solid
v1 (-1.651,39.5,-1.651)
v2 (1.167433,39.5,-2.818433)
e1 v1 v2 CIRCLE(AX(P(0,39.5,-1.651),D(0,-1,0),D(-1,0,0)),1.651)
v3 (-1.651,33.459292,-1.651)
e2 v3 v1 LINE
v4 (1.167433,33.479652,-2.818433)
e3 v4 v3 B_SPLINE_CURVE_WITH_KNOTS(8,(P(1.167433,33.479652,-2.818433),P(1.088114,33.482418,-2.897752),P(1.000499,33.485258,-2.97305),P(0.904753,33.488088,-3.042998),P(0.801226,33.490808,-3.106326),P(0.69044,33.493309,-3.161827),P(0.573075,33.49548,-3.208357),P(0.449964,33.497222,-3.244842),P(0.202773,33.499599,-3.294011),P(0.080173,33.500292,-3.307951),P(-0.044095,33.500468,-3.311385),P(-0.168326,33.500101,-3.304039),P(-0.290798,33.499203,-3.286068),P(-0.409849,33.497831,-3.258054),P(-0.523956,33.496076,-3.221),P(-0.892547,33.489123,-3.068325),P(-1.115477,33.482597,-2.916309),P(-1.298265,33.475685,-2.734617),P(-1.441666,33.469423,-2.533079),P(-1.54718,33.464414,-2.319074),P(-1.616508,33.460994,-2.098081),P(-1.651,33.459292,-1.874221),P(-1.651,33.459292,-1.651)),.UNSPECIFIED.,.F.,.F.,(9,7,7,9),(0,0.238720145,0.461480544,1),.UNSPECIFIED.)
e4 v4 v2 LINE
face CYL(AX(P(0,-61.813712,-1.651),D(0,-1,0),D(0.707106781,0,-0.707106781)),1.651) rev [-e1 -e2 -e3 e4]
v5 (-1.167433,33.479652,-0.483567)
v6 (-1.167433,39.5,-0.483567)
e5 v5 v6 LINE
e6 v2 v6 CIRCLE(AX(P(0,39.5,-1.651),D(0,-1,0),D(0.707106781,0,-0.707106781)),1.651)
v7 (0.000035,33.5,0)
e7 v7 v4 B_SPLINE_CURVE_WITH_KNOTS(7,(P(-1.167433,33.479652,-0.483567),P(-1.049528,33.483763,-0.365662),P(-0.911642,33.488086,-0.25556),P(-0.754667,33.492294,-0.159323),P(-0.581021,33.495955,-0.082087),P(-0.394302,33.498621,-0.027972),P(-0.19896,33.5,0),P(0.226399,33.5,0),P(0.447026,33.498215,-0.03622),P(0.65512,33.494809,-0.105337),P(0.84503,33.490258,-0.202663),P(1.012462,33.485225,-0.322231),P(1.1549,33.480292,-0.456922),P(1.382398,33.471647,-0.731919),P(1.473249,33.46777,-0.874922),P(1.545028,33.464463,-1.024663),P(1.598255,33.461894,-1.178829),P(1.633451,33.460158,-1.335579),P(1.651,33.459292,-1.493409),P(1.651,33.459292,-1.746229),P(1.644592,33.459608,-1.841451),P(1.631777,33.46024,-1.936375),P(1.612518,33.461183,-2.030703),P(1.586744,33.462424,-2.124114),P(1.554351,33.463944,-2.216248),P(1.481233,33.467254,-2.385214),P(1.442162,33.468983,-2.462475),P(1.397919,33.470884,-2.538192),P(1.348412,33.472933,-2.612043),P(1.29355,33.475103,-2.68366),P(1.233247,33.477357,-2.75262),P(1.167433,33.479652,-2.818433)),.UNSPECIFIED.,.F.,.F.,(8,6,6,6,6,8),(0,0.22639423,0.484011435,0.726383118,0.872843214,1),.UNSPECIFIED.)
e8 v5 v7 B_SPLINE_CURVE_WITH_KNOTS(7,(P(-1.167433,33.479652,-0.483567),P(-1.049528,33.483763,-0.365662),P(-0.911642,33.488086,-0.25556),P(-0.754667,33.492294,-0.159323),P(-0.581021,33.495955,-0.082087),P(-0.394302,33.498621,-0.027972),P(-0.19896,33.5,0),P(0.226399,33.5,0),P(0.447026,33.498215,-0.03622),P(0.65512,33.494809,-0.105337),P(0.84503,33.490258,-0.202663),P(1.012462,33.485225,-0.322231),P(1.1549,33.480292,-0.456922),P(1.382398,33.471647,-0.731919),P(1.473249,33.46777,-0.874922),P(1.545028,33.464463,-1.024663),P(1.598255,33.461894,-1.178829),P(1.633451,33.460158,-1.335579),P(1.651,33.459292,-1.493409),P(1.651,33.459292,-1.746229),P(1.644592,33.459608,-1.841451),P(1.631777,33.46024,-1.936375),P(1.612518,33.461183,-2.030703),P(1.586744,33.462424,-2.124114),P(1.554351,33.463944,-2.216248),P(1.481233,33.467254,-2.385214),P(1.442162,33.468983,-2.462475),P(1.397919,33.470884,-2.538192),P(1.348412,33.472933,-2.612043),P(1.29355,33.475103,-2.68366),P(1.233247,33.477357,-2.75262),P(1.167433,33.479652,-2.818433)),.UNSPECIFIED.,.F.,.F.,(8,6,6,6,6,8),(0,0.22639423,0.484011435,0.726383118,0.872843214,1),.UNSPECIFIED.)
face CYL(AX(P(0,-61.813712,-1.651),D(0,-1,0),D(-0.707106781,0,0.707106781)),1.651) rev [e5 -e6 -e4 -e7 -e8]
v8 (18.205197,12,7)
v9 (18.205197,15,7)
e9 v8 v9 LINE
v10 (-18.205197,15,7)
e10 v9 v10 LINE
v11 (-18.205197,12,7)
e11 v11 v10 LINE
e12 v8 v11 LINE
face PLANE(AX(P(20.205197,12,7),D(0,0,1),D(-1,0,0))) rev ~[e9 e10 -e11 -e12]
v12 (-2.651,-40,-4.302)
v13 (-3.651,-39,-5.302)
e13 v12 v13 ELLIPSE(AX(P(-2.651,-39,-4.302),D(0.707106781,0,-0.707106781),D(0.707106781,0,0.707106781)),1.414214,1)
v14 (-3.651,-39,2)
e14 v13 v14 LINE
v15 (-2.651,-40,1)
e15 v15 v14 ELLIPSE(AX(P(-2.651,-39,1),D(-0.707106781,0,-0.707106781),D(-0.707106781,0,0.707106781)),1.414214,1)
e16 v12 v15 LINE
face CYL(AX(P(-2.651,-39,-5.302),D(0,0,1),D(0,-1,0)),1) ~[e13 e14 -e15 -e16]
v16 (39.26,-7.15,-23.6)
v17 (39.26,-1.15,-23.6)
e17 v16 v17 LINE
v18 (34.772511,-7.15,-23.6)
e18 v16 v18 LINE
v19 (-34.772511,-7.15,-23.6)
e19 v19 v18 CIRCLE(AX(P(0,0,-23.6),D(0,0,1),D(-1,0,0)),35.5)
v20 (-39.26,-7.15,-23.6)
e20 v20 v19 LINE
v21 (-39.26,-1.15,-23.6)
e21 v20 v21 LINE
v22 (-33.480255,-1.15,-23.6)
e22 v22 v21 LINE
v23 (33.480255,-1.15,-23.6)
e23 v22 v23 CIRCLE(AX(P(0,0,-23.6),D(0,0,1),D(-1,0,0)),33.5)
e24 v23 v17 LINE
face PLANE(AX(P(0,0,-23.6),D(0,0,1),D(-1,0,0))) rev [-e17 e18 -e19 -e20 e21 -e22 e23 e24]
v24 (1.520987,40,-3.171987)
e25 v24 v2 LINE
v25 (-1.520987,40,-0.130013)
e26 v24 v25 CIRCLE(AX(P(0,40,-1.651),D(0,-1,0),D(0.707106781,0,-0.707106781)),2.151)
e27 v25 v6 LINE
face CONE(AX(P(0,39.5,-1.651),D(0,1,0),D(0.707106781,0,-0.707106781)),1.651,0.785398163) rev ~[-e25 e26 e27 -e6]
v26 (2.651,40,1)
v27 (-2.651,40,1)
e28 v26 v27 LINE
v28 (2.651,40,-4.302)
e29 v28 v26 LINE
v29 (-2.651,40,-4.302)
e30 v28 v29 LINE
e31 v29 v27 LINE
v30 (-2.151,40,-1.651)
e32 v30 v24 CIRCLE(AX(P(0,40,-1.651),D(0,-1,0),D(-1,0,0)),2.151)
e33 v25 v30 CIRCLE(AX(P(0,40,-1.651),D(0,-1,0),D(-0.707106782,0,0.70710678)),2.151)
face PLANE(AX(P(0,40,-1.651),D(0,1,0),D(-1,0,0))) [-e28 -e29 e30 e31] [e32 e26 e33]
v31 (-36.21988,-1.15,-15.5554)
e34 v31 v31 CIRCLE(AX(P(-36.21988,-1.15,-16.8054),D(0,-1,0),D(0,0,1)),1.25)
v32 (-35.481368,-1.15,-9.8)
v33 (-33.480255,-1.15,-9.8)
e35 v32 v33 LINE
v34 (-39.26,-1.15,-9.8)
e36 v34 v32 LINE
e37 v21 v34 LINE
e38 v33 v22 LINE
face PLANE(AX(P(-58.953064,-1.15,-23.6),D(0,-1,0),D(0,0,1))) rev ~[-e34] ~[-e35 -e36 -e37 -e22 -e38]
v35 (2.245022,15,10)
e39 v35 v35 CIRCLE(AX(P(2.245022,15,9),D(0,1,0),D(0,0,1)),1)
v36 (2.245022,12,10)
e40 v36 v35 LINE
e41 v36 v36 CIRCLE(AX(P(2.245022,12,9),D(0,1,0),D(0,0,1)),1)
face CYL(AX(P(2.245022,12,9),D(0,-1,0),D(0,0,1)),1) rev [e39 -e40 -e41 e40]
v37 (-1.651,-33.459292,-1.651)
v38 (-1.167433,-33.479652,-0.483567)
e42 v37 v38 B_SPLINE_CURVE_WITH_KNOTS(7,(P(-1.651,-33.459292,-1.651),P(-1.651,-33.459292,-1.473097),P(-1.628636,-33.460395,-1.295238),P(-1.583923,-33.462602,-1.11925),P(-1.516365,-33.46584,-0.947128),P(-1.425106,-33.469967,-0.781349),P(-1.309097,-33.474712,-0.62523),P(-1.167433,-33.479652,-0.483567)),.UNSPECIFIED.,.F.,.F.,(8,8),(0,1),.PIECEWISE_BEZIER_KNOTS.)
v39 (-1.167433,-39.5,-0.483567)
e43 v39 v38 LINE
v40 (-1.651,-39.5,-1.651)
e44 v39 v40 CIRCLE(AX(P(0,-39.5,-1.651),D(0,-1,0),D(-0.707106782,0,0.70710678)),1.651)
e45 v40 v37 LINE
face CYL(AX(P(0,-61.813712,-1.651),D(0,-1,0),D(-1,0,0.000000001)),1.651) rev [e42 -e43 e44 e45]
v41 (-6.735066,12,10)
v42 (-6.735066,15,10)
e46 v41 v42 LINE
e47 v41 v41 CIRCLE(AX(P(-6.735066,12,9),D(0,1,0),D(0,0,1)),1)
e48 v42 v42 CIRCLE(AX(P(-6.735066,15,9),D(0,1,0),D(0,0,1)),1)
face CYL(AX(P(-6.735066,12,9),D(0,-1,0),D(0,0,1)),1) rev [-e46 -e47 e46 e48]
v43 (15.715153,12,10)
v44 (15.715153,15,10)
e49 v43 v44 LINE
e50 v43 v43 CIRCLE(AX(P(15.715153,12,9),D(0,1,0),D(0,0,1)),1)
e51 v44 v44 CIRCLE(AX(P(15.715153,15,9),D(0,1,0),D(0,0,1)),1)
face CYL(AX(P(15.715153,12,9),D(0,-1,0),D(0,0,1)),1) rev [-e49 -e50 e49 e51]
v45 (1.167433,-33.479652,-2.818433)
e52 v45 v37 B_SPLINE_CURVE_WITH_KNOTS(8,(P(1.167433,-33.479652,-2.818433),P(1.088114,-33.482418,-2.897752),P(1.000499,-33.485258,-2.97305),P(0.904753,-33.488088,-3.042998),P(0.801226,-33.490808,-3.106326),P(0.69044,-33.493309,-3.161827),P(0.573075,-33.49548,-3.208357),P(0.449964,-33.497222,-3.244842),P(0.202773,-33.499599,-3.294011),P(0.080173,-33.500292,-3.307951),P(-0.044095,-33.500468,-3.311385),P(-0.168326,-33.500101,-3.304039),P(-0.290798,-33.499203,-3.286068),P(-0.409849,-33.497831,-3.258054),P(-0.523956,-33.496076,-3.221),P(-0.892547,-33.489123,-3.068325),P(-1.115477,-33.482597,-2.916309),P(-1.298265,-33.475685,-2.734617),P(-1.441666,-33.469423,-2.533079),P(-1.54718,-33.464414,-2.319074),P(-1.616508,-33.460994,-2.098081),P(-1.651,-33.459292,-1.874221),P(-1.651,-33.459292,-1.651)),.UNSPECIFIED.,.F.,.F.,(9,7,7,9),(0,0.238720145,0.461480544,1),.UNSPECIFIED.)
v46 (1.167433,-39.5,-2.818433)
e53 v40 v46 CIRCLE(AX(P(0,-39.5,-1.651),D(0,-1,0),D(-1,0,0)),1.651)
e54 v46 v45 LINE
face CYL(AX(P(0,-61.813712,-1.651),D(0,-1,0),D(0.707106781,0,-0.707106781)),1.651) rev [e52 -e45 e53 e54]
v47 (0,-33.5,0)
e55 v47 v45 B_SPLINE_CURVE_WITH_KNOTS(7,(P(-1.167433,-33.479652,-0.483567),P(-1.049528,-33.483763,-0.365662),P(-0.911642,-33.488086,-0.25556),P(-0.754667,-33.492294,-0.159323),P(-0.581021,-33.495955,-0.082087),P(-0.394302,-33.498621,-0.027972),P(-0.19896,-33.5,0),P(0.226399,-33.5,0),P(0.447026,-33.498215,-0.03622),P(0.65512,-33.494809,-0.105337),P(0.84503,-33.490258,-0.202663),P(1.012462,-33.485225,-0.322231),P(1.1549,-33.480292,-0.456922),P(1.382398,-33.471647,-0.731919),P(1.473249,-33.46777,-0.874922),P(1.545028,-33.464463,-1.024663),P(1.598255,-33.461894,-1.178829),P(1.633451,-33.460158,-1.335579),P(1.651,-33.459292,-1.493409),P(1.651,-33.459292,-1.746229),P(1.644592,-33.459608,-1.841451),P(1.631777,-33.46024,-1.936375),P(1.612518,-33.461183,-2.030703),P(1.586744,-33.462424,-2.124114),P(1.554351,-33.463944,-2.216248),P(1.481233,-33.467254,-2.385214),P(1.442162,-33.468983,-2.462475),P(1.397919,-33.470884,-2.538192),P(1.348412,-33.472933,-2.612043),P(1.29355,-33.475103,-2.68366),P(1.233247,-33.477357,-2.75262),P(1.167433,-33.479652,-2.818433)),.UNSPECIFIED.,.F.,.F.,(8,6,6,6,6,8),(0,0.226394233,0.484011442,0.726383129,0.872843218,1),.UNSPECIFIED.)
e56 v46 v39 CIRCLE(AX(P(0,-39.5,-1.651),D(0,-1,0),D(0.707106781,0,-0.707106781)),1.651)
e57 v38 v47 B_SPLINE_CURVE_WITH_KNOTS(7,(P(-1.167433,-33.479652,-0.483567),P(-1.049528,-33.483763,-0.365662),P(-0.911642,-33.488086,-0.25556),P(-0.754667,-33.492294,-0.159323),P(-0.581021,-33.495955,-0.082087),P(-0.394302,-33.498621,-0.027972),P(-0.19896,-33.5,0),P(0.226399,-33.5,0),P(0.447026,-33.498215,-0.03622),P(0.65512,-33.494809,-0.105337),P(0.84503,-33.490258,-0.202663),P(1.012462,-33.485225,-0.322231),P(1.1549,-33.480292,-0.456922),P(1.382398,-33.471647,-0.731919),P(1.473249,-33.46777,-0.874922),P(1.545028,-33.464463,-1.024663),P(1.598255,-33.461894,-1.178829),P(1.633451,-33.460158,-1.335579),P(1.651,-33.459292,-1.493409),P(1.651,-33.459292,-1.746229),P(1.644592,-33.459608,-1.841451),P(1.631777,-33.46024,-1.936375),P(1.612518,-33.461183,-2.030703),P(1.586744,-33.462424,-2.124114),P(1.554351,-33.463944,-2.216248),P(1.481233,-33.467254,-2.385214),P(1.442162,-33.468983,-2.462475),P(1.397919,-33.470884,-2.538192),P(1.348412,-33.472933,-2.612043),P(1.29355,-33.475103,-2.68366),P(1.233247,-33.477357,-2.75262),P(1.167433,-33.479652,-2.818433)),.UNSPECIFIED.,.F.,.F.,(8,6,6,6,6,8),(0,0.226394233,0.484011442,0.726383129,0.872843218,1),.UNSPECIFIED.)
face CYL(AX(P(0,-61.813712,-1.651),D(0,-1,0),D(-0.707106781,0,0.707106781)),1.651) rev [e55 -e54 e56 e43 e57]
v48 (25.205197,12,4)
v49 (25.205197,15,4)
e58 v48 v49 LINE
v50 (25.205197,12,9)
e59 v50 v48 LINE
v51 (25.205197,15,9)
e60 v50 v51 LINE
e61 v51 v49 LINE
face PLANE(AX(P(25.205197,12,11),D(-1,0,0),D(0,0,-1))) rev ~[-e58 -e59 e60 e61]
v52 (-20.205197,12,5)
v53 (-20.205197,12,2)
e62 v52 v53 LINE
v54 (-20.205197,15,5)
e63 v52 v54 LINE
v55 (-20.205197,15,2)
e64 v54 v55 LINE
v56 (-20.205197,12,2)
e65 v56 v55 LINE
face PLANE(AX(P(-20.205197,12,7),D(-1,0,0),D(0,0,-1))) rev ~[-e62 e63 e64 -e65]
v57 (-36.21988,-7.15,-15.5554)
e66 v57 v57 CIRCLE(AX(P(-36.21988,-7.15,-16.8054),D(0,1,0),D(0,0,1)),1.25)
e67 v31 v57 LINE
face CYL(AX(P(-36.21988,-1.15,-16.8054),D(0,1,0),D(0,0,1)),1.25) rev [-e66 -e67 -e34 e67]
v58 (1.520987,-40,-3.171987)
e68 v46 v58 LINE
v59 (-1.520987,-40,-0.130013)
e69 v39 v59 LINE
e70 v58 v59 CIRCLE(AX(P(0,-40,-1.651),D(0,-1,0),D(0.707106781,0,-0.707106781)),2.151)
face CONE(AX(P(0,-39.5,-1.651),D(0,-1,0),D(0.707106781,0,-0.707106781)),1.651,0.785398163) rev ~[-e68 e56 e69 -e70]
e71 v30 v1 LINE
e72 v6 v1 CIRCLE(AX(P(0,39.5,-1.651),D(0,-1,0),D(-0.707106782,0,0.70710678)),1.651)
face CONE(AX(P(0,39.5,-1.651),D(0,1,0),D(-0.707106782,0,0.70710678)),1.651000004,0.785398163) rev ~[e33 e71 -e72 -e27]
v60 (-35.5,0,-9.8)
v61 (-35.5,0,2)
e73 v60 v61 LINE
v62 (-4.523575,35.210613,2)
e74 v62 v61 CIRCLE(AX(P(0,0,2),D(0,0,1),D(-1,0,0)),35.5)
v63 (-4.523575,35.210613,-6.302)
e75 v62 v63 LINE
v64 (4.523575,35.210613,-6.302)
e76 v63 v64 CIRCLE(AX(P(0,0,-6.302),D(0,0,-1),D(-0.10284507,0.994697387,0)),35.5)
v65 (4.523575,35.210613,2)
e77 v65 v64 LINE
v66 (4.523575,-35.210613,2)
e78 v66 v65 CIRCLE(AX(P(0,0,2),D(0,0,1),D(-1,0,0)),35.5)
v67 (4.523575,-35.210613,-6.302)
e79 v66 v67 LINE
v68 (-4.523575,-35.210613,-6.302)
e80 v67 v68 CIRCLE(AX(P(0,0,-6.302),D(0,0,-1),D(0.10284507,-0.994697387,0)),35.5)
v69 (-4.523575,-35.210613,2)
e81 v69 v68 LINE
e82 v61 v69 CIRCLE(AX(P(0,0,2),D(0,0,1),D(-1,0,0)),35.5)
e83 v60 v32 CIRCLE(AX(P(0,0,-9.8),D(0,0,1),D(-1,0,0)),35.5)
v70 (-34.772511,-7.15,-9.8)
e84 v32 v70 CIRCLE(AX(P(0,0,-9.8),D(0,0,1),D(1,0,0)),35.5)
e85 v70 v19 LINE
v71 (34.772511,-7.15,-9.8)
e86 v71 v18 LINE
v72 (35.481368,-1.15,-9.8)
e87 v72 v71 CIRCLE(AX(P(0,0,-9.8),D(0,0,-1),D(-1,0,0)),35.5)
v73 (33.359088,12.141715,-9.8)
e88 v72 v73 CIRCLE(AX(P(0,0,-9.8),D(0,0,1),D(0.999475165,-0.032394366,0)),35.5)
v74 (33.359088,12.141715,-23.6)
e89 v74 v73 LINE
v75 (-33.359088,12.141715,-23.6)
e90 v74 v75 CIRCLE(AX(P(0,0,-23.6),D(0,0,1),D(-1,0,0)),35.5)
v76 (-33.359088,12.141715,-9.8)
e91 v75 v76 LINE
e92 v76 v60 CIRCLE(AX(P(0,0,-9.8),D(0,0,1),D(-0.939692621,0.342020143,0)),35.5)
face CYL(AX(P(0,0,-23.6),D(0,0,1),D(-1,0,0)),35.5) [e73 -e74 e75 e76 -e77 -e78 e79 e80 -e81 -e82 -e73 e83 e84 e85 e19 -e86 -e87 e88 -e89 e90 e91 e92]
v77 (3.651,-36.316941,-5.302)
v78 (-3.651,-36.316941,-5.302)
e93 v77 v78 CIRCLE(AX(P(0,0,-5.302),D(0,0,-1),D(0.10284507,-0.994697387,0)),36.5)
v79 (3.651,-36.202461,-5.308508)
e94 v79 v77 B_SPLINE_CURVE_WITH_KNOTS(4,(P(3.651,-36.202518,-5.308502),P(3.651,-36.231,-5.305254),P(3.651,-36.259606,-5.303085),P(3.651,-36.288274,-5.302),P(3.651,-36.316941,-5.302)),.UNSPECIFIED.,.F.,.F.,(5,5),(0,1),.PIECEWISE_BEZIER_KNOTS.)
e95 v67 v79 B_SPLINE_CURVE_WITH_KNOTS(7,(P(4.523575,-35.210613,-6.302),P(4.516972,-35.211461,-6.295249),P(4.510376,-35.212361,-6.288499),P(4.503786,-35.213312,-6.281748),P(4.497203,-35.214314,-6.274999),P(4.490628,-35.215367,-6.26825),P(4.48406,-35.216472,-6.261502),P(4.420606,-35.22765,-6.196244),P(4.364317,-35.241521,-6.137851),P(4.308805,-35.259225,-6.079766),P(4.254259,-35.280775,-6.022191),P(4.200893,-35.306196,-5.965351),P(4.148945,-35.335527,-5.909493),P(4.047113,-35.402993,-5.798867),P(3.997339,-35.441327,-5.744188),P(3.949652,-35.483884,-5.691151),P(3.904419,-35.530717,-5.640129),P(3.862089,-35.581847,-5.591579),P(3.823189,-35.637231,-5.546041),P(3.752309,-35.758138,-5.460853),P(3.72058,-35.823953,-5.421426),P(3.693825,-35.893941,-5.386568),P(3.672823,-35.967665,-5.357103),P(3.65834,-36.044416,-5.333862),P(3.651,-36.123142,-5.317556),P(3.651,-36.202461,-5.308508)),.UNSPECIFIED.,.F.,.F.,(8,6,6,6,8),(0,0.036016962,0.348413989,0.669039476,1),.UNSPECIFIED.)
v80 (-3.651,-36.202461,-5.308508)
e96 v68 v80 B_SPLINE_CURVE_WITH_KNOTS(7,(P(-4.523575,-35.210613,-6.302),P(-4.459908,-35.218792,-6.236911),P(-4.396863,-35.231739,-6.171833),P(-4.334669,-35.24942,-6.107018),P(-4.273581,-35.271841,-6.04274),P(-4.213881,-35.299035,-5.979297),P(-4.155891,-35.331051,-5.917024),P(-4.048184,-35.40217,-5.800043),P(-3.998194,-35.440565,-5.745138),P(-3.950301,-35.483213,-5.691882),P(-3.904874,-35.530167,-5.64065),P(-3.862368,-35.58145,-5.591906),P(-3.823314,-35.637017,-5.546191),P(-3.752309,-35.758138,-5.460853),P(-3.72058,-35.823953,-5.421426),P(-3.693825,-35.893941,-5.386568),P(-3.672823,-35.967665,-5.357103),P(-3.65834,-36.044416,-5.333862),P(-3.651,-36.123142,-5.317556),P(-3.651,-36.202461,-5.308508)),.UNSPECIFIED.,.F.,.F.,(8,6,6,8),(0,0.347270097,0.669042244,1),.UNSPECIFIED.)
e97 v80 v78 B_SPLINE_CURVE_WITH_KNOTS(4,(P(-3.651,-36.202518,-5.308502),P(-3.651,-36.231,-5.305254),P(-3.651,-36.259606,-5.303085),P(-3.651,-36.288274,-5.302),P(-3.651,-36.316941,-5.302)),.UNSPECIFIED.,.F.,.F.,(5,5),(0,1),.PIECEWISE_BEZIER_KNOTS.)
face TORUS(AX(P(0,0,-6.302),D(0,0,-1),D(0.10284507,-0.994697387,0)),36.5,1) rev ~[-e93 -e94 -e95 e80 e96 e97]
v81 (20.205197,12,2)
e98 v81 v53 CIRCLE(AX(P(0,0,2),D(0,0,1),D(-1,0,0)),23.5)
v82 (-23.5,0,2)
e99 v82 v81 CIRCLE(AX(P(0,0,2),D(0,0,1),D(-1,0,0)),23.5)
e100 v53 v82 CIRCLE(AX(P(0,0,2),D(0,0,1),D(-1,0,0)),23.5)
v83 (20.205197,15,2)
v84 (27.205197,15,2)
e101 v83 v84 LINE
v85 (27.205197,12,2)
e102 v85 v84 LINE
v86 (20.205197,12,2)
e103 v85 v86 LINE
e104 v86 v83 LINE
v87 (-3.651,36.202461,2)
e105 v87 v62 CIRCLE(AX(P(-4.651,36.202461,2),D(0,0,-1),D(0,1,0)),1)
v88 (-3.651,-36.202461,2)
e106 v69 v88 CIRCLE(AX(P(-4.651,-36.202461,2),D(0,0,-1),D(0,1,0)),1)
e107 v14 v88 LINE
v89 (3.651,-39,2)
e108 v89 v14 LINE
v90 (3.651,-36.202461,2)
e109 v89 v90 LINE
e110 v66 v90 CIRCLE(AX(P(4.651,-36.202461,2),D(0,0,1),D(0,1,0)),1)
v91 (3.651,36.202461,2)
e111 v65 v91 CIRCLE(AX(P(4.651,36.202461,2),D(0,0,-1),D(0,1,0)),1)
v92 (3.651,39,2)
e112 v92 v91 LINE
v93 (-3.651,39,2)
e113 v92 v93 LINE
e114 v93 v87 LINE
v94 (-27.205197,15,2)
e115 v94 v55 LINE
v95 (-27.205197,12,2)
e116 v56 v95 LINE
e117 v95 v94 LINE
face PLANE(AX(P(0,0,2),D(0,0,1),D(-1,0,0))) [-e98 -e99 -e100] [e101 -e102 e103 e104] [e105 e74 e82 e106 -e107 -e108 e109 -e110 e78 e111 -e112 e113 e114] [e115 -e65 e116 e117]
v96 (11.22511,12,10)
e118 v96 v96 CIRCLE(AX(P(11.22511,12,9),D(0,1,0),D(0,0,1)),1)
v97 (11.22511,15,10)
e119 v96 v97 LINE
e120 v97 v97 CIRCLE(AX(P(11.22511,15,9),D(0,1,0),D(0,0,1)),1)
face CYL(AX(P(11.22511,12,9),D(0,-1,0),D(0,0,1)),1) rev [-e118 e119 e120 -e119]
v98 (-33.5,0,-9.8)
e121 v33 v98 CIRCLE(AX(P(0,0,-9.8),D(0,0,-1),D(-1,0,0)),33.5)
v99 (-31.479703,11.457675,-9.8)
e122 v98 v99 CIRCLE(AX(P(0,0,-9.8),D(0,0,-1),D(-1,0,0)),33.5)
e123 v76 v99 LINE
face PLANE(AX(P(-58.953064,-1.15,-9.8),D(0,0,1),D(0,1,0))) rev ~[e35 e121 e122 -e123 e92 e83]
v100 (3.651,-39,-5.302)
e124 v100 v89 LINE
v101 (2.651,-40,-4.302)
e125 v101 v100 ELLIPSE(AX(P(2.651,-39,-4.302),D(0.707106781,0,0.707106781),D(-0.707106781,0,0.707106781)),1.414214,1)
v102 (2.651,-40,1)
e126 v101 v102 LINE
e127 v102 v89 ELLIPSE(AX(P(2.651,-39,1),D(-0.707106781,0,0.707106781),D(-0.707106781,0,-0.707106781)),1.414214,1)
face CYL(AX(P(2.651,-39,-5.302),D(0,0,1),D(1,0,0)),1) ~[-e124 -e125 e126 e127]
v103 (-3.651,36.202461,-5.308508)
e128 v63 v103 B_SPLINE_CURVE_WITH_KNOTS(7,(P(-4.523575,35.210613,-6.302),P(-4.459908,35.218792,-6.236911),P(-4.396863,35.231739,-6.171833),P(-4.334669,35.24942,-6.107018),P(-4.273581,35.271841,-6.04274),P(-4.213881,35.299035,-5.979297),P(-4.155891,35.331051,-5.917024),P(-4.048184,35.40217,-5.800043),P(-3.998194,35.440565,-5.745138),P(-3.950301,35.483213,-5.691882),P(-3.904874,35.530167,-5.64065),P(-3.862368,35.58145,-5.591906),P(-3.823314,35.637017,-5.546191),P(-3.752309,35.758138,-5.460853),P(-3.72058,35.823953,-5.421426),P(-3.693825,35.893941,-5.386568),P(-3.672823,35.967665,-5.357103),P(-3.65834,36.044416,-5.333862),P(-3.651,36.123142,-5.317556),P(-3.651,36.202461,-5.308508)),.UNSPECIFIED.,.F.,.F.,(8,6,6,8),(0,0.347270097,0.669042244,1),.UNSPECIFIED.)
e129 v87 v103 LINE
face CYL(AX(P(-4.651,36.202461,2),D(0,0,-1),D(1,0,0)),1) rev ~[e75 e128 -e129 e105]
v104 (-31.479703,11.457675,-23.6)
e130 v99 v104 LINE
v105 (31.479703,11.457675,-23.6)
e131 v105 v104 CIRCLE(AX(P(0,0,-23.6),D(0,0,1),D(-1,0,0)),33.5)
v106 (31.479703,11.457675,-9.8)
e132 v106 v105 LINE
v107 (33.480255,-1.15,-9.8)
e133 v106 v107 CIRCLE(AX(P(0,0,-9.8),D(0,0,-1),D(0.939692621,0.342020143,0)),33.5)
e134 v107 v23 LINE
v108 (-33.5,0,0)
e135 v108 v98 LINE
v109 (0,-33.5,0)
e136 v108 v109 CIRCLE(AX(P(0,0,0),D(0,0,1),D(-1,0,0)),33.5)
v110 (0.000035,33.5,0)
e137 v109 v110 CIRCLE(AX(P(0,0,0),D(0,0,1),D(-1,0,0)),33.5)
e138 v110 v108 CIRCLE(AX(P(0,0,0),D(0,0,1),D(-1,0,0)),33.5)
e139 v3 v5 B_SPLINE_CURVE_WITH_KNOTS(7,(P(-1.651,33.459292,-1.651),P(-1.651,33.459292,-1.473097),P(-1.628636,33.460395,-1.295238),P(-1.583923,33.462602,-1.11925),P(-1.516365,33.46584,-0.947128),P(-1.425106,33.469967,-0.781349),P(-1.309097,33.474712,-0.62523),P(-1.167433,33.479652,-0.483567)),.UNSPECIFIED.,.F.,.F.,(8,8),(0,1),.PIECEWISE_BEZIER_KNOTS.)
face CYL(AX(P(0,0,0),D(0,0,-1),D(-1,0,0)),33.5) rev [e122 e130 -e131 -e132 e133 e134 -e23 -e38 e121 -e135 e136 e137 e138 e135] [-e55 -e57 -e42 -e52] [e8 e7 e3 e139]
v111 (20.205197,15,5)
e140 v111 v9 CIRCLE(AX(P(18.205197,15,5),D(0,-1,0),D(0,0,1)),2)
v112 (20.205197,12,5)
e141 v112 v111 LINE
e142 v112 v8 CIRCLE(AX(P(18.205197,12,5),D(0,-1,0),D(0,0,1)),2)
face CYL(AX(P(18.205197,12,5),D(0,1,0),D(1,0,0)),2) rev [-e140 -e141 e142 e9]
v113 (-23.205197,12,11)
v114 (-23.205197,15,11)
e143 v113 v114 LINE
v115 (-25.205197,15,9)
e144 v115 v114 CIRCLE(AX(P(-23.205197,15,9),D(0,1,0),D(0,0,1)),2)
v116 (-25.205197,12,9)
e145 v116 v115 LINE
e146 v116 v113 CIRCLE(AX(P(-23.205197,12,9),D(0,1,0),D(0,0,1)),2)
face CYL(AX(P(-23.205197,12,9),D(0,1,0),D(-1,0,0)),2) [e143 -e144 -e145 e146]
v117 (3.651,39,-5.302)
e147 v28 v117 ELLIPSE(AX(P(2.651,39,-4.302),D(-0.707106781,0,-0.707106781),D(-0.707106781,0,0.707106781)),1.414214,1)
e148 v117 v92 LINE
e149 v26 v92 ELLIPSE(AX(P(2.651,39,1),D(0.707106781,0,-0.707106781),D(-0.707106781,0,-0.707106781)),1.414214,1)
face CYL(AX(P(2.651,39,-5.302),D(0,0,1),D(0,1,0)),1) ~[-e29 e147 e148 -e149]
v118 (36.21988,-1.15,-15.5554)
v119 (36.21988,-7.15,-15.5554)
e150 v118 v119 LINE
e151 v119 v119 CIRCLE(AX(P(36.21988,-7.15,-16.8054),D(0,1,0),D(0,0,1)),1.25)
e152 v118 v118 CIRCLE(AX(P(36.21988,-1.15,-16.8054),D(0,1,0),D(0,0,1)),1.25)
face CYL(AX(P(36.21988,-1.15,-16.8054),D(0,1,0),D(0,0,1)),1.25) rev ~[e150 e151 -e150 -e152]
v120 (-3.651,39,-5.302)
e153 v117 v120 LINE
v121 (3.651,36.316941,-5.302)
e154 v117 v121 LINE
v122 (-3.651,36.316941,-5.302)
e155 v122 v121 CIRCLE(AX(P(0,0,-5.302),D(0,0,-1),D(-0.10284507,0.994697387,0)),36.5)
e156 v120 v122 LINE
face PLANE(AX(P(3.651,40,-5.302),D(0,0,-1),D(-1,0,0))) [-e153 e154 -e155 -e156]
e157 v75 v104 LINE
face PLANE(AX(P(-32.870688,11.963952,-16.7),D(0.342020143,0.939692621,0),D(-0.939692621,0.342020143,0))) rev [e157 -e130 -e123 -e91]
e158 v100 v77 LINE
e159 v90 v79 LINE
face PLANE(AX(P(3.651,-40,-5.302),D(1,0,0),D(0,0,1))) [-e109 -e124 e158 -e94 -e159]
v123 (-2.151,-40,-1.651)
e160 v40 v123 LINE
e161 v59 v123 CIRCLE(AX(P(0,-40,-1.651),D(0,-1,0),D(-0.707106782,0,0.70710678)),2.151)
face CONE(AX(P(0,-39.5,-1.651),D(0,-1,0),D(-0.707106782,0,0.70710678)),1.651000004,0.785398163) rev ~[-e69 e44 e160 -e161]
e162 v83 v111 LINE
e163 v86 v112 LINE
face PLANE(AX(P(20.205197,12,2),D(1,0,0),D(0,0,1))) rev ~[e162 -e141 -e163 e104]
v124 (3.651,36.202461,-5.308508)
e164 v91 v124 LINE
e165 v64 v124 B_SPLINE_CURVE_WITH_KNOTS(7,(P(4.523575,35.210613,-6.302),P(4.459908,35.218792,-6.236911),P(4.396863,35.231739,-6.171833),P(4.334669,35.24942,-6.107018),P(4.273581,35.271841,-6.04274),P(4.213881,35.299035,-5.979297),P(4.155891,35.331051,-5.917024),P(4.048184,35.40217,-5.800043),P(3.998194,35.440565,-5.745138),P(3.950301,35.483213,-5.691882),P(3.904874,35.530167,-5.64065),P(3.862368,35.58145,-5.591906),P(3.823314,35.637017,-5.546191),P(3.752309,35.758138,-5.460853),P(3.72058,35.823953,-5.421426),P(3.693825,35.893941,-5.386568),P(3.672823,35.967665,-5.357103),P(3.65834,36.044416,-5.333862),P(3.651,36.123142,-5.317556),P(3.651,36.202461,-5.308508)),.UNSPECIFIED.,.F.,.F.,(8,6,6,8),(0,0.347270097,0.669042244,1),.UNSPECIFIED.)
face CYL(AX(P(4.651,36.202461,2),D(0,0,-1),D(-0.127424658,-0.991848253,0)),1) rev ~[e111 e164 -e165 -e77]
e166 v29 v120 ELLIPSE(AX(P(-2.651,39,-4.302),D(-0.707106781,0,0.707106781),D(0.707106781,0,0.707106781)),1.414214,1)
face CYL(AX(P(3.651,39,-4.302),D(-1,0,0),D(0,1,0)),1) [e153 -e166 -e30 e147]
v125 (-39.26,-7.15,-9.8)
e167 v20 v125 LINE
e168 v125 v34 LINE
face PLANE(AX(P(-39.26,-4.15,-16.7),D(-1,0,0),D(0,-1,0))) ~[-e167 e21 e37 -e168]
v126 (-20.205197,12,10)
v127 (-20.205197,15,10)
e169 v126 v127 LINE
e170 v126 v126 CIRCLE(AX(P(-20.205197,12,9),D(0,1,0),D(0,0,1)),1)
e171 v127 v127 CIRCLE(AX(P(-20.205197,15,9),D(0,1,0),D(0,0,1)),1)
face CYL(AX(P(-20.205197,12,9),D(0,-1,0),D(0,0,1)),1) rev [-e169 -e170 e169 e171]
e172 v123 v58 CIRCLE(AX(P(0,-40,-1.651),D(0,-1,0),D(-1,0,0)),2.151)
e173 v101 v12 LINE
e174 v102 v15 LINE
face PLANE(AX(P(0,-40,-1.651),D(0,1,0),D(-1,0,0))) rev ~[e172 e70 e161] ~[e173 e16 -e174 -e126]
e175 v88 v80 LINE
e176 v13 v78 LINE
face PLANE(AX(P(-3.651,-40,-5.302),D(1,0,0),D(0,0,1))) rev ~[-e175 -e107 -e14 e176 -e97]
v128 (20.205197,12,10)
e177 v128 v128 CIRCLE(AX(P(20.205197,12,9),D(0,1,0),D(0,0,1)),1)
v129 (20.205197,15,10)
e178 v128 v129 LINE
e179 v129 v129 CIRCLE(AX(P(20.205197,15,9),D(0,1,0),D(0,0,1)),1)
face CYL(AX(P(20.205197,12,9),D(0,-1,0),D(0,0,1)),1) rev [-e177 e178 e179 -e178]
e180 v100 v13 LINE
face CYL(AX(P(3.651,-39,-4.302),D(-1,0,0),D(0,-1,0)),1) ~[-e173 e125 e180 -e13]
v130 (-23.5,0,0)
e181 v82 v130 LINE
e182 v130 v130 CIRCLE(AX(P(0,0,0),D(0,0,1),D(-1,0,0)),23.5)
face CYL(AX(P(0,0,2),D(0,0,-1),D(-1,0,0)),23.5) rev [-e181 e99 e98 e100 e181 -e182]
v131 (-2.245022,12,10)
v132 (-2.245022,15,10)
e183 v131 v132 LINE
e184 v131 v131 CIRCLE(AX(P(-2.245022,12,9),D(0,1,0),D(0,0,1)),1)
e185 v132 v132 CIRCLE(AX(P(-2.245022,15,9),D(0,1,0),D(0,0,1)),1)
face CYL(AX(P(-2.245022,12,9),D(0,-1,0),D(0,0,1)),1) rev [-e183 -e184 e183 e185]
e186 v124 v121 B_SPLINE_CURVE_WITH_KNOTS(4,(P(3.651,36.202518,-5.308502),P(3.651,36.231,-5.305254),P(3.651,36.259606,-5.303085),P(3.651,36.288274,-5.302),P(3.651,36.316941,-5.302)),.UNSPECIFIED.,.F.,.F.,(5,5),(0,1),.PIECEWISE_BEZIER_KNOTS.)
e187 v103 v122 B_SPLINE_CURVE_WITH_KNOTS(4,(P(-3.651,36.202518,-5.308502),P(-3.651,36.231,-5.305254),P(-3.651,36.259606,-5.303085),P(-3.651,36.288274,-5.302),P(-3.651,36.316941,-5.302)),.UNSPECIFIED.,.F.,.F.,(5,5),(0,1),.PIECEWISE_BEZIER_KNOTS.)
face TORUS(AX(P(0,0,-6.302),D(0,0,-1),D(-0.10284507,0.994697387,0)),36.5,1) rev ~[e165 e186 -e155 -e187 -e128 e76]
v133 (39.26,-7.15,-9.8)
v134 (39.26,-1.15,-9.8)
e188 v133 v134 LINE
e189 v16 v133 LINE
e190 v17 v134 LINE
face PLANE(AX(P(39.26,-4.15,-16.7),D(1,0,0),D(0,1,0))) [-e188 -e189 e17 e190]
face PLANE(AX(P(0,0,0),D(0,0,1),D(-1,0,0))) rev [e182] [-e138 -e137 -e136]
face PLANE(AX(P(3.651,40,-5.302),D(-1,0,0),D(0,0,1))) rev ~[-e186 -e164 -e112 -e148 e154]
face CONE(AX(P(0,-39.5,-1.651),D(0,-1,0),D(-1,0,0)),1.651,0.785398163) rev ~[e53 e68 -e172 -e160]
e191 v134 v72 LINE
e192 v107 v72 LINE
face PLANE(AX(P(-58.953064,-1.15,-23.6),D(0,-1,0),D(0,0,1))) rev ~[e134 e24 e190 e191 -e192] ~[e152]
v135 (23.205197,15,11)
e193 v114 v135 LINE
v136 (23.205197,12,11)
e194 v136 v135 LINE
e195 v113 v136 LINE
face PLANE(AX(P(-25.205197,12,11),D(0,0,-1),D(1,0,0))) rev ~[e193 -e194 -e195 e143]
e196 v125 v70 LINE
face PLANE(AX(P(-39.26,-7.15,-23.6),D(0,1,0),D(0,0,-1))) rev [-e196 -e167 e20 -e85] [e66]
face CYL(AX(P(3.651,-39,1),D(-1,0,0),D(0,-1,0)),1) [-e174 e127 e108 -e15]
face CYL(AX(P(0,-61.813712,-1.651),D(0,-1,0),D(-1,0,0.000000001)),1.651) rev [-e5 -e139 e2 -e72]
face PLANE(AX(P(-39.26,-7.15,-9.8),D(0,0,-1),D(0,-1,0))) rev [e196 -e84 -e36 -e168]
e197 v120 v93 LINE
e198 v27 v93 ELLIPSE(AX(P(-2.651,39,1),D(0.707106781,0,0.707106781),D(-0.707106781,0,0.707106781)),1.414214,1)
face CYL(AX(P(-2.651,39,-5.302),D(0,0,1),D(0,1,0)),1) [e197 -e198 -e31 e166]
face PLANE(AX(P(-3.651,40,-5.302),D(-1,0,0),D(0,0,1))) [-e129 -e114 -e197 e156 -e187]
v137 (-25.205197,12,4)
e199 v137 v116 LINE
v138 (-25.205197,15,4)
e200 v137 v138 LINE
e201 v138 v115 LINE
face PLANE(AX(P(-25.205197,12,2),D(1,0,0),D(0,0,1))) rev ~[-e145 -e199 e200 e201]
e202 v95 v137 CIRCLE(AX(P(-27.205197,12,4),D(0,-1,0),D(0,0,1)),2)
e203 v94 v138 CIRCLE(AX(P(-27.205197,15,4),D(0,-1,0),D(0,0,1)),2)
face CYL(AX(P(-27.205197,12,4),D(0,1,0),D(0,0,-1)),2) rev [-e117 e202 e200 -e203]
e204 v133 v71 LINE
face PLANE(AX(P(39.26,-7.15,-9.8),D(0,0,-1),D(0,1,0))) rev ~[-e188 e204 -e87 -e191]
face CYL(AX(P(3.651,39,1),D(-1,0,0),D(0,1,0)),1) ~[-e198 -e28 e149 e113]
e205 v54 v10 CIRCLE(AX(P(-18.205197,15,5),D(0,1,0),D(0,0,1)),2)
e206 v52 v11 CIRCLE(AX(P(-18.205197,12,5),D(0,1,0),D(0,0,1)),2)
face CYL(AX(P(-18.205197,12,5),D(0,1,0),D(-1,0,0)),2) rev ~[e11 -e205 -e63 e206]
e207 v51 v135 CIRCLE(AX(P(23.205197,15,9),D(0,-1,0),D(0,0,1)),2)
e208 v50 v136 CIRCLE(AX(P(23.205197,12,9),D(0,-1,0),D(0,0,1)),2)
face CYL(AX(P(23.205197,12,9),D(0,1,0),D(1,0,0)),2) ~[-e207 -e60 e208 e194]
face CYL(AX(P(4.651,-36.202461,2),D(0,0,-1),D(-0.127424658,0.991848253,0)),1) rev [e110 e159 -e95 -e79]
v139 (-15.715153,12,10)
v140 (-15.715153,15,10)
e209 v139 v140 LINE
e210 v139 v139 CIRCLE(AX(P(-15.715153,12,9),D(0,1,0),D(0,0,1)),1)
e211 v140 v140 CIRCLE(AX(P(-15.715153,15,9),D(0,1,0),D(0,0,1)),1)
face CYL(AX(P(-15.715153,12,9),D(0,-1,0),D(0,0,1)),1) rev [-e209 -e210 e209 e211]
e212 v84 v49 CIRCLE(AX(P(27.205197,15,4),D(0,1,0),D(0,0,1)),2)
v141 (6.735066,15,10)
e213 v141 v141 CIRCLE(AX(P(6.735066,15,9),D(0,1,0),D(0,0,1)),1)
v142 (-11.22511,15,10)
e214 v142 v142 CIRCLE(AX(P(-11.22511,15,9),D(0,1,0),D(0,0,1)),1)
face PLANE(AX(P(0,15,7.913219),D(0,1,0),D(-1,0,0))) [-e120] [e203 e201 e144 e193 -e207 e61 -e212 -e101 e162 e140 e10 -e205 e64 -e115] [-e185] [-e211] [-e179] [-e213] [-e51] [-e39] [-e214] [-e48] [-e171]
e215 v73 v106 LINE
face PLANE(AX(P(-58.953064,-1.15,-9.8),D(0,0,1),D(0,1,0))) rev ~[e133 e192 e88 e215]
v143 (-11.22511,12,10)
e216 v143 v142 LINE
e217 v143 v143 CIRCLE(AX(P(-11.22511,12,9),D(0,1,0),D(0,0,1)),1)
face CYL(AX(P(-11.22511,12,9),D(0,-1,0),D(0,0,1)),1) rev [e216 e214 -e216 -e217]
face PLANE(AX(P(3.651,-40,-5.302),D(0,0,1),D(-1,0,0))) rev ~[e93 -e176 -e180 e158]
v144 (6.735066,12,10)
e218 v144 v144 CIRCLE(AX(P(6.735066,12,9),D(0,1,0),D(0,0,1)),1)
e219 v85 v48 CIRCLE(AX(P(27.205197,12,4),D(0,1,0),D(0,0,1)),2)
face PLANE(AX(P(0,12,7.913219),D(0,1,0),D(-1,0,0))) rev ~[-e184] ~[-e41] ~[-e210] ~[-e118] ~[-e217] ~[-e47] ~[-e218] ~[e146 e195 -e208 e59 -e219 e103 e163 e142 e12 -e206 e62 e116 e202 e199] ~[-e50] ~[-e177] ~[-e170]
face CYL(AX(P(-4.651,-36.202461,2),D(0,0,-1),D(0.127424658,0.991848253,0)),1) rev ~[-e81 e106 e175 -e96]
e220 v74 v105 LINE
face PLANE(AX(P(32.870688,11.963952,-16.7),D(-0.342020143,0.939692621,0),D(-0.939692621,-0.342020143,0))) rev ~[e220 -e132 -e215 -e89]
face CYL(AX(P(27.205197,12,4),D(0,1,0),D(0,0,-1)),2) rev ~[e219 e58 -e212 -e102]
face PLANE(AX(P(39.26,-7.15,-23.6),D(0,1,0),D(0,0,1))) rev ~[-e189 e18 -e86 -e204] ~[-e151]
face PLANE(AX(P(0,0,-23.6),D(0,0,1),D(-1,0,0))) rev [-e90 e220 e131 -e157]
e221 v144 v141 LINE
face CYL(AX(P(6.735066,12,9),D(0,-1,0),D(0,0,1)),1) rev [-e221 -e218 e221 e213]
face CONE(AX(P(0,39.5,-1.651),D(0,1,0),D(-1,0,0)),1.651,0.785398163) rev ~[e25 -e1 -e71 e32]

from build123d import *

# Parameters (mm, degrees)
BOSS_EXTRUDE1_REACH      = 96.735
BOSS_EXTRUDE1_END_RADIUS = 35.5
BOSS_EXTRUDE1_START      = 39.26
SKETCH6_W                = 6
SKETCH6_H                = 13.8
CUT_EXTRUDE2_DEPTH       = 58.953063767
CUT_EXTRUDE2_DEPTH_BACK  = 58.953063767
SKETCH6_3_W              = 2.3
SKETCH6_3_H              = 13.8
SKETCH11_R               = 1.25
CUT_EXTRUDE5_DEPTH       = 59.664555739
BOSS_EXTRUDE4_REACH      = 99.953
BOSS_EXTRUDE4_END_RADIUS = 35.5
BOSS_EXTRUDE4_START      = 40
SKETCH12_W               = 7.302
SKETCH12_H               = 7.302
BOSS_EXTRUDE5_REACH      = 102.814
BOSS_EXTRUDE5_END_RADIUS = 35.5
BOSS_EXTRUDE5_START      = -40
SKETCH12_5_W             = 7.302
SKETCH12_5_H             = 7.302
CUT_EXTRUDE6_DEPTH       = 61.81371227
CUT_EXTRUDE6_DEPTH_BACK  = 61.81371227
FILLET2_R                = 1
CHAMFER2_SIZE            = 0.5
SKETCH9_W                = 3
SKETCH9_H                = 13.8
CUT_REVOLVE1_ANGLE       = 20
SKETCH13_R               = 1
BOSS_EXTRUDE6_DEPTH      = 3
FILLET3_R                = 2


with BuildPart() as part:
    # Sketch3 → Revolve1 (revolve)
    with BuildSketch(Plane.YZ, mode=Mode.PRIVATE) as revolve1_sk:
        Polygon((23.5, 0), (33.5, 0), (33.5, -23.6), (35.5, -23.6), (35.5, 2), (23.5, 2), align=None)
    revolve(revolve1_sk.sketch.rotate(Axis((0, 0, 0), (0, 0, 1)), 90), axis=Axis((0, 0, 0), (0, 0, 1)))

    # Boss-Extrude1: up to this cylinder (the profile starts outside it)
    boss_extrude1_end = Plane(origin=(0, 0, -16.7), z_dir=(0, 0, -1)) * Cylinder(BOSS_EXTRUDE1_END_RADIUS, 265.47, mode=Mode.PRIVATE)
    # Sketch6 → Boss-Extrude1 (add, up to the surface)
    with BuildSketch(Plane.YZ.offset(BOSS_EXTRUDE1_START), mode=Mode.PRIVATE) as boss_extrude1_sk1:
        with Locations((-4.15, -16.7)):
            Rectangle(SKETCH6_W, SKETCH6_H)
    boss_extrude1_tool1 = extrude(boss_extrude1_sk1.sketch, amount=-BOSS_EXTRUDE1_REACH, mode=Mode.PRIVATE) - boss_extrude1_end
    boss_extrude1 = boss_extrude1_tool1.solids().sort_by_distance((39.26, -4.15, -16.7))[0]
    add(boss_extrude1)

    # Mirror1: Boss-Extrude1 across plane
    add(boss_extrude1.mirror(Plane(origin=(0, 0, 0), x_dir=(0, 0, 1), z_dir=(1, 0, 0))))

    # Sketch6<3> → Cut-Extrude2 (cut, two sides: drawn at the far end of the back side and taken through both)
    with BuildSketch(Plane.YZ.offset(-CUT_EXTRUDE2_DEPTH_BACK)):
        with Locations((0, -16.7)):
            Rectangle(SKETCH6_3_W, SKETCH6_3_H)
    extrude(amount=CUT_EXTRUDE2_DEPTH + CUT_EXTRUDE2_DEPTH_BACK, mode=Mode.SUBTRACT)

    # Sketch11 → Cut-Extrude5 (cut, through all)
    with BuildSketch(Plane(origin=(0, -1.15, 0), x_dir=(-1, 0, 0), z_dir=(0, 1, 0))):
        with Locations(Location((-36.21988, -16.8054, 0), (0, 0, 90))):
            Circle(SKETCH11_R)
    cut_extrude5 = extrude(amount=-CUT_EXTRUDE5_DEPTH, mode=Mode.SUBTRACT)

    # Boss-Extrude4: up to this cylinder (the profile starts outside it)
    boss_extrude4_end = Plane(origin=(0, 0, -1.651), z_dir=(0, 0, -1)) * Cylinder(BOSS_EXTRUDE4_END_RADIUS, 271.906, mode=Mode.PRIVATE)
    # Sketch12 → Boss-Extrude4 (add, up to the surface)
    with BuildSketch(Plane(origin=(0, 0, 0), x_dir=(-1, 0, 0), z_dir=(0, 1, 0)).offset(BOSS_EXTRUDE4_START), mode=Mode.PRIVATE) as boss_extrude4_sk1:
        with Locations((0, -1.651)):
            Rectangle(SKETCH12_W, SKETCH12_H)
    boss_extrude4_tool1 = extrude(boss_extrude4_sk1.sketch, amount=-BOSS_EXTRUDE4_REACH, mode=Mode.PRIVATE) - boss_extrude4_end
    add(boss_extrude4_tool1.solids().sort_by_distance((0, 40, -1.651))[0])

    # Boss-Extrude5: up to this cylinder (the profile starts outside it)
    boss_extrude5_end = Plane(origin=(0, 0, -1.651), z_dir=(0, 0, -1)) * Cylinder(BOSS_EXTRUDE5_END_RADIUS, 277.628, mode=Mode.PRIVATE)
    # Sketch12<5> → Boss-Extrude5 (add, up to the surface)
    with BuildSketch(Plane(origin=(0, 0, 0), x_dir=(-1, 0, 0), z_dir=(0, 1, 0)).offset(BOSS_EXTRUDE5_START), mode=Mode.PRIVATE) as boss_extrude5_sk1:
        with Locations((0, -1.651)):
            Rectangle(SKETCH12_5_W, SKETCH12_5_H)
    boss_extrude5_tool1 = extrude(boss_extrude5_sk1.sketch, amount=BOSS_EXTRUDE5_REACH, mode=Mode.PRIVATE) - boss_extrude5_end
    add(boss_extrude5_tool1.solids().sort_by_distance((0, -40, -1.651))[0])

    # Sketch12<7> → Cut-Extrude6 (cut, two sides: drawn at the far end of the back side and taken through both)
    with BuildSketch(Plane(origin=(0, 0, 0), x_dir=(-1, 0, 0), z_dir=(0, 1, 0)).offset(-CUT_EXTRUDE6_DEPTH_BACK)):
        with BuildLine():
            ThreePointArc((1.651, -1.651), (1.525325108, -1.019189653), (1.167433296, -0.483566704))
            Line((1.167433296, -0.483566704), (-1.167433296, -2.818433296))
            ThreePointArc((-1.167433296, -2.818433296), (0.631810347, -3.176325108), (1.651, -1.651))
        make_face()
        with BuildLine():
            Line((-1.167433296, -2.818433296), (1.167433296, -0.483566704))
            ThreePointArc((1.167433296, -0.483566704), (-1.167433296, -0.483566704), (-1.167433296, -2.818433296))
        make_face()
    extrude(amount=CUT_EXTRUDE6_DEPTH + CUT_EXTRUDE6_DEPTH_BACK, mode=Mode.SUBTRACT)

    # Fillet2
    fillet2_edges = [part.edges().sort_by_distance(p)[0] for p in [
        (0, 40, 2),
        (-3.651, 35.311757235, -1.651),
        (-3.651, 40, -1.651),
        (3.651, 40, -1.651),
        (0, 40, -5.302),
        (3.651, 35.311757235, -1.651),
        (0, 35.5, -5.302),
        (-3.651, -40, -1.651),
        (0, -40, 2),
        (0, -35.5, -5.302),
        (0, -40, -5.302),
        (3.651, -35.311757235, -1.651),
        (3.651, -40, -1.651),
        (-3.651, -35.311757235, -1.651),
    ]]
    fillet(fillet2_edges, radius=FILLET2_R)

    # Chamfer2
    chamfer2_edges = [part.edges().sort_by_distance(p)[0] for p in [
        (-1.167433296, -40, -0.483566704),
        (-1.167433296, 40, -0.483566704),
    ]]
    chamfer(chamfer2_edges, length=CHAMFER2_SIZE)

    # Sketch9 → Cut-Revolve1 (revolve, cut)
    with BuildSketch(Plane(origin=(0, 0, 0), x_dir=(-1, 0, 0), z_dir=(0, 1, 0))):
        with Locations((-34.980255375, -16.7)):
            Rectangle(SKETCH9_W, SKETCH9_H)
    cut_revolve1 = revolve(axis=Axis((0, 0, 0), (0, 0, 1)), revolution_arc=CUT_REVOLVE1_ANGLE, mode=Mode.SUBTRACT)

    # Mirror9: Cut-Extrude5, Cut-Revolve1 across plane
    add(cut_extrude5.mirror(Plane(origin=(0, 0, 0), x_dir=(0, 0, 1), z_dir=(1, 0, 0))), mode=Mode.SUBTRACT)
    add(cut_revolve1.mirror(Plane(origin=(0, 0, 0), x_dir=(0, 0, 1), z_dir=(1, 0, 0))), mode=Mode.SUBTRACT)

    # Sketch13 → Boss-Extrude6 (add)
    with BuildSketch(Plane(origin=(0, 12, 0), x_dir=(-1, 0, 0), z_dir=(0, 1, 0))):
        Polygon((-25.205197351, 2), (-20.205197351, 2), (-20.205197351, 7), (20.205197351, 7), (20.205197351, 2), (25.205197351, 2), (25.205197351, 11), (-25.205197351, 11), align=None)
        with Locations(Location((-20.205197351, 9, 0), (0, 0, 90))):
            Circle(SKETCH13_R, mode=Mode.SUBTRACT)
        with Locations(Location((-15.715153495, 9, 0), (0, 0, 90))):
            Circle(SKETCH13_R, mode=Mode.SUBTRACT)
        with Locations(Location((-11.22510964, 9, 0), (0, 0, 90))):
            Circle(SKETCH13_R, mode=Mode.SUBTRACT)
        with Locations(Location((-6.735065784, 9, 0), (0, 0, 90))):
            Circle(SKETCH13_R, mode=Mode.SUBTRACT)
        with Locations(Location((-2.245021928, 9, 0), (0, 0, 90))):
            Circle(SKETCH13_R, mode=Mode.SUBTRACT)
        with Locations(Location((2.245021928, 9, 0), (0, 0, 90))):
            Circle(SKETCH13_R, mode=Mode.SUBTRACT)
        with Locations(Location((6.735065784, 9, 0), (0, 0, 90))):
            Circle(SKETCH13_R, mode=Mode.SUBTRACT)
        with Locations(Location((11.22510964, 9, 0), (0, 0, 90))):
            Circle(SKETCH13_R, mode=Mode.SUBTRACT)
        with Locations(Location((15.715153495, 9, 0), (0, 0, 90))):
            Circle(SKETCH13_R, mode=Mode.SUBTRACT)
        with Locations(Location((20.205197351, 9, 0), (0, 0, 90))):
            Circle(SKETCH13_R, mode=Mode.SUBTRACT)
    extrude(amount=BOSS_EXTRUDE6_DEPTH)

    # Fillet3
    fillet3_edges = [part.edges().sort_by_distance(p)[0] for p in [
        (25.205197351, 13.5, 11),
        (25.205197351, 13.5, 2),
        (20.205197351, 13.5, 7),
        (-20.205197351, 13.5, 7),
        (-25.205197351, 13.5, 2),
        (-25.205197351, 13.5, 11),
    ]]
    fillet(fillet3_edges, radius=FILLET3_R)


solid = part.part
